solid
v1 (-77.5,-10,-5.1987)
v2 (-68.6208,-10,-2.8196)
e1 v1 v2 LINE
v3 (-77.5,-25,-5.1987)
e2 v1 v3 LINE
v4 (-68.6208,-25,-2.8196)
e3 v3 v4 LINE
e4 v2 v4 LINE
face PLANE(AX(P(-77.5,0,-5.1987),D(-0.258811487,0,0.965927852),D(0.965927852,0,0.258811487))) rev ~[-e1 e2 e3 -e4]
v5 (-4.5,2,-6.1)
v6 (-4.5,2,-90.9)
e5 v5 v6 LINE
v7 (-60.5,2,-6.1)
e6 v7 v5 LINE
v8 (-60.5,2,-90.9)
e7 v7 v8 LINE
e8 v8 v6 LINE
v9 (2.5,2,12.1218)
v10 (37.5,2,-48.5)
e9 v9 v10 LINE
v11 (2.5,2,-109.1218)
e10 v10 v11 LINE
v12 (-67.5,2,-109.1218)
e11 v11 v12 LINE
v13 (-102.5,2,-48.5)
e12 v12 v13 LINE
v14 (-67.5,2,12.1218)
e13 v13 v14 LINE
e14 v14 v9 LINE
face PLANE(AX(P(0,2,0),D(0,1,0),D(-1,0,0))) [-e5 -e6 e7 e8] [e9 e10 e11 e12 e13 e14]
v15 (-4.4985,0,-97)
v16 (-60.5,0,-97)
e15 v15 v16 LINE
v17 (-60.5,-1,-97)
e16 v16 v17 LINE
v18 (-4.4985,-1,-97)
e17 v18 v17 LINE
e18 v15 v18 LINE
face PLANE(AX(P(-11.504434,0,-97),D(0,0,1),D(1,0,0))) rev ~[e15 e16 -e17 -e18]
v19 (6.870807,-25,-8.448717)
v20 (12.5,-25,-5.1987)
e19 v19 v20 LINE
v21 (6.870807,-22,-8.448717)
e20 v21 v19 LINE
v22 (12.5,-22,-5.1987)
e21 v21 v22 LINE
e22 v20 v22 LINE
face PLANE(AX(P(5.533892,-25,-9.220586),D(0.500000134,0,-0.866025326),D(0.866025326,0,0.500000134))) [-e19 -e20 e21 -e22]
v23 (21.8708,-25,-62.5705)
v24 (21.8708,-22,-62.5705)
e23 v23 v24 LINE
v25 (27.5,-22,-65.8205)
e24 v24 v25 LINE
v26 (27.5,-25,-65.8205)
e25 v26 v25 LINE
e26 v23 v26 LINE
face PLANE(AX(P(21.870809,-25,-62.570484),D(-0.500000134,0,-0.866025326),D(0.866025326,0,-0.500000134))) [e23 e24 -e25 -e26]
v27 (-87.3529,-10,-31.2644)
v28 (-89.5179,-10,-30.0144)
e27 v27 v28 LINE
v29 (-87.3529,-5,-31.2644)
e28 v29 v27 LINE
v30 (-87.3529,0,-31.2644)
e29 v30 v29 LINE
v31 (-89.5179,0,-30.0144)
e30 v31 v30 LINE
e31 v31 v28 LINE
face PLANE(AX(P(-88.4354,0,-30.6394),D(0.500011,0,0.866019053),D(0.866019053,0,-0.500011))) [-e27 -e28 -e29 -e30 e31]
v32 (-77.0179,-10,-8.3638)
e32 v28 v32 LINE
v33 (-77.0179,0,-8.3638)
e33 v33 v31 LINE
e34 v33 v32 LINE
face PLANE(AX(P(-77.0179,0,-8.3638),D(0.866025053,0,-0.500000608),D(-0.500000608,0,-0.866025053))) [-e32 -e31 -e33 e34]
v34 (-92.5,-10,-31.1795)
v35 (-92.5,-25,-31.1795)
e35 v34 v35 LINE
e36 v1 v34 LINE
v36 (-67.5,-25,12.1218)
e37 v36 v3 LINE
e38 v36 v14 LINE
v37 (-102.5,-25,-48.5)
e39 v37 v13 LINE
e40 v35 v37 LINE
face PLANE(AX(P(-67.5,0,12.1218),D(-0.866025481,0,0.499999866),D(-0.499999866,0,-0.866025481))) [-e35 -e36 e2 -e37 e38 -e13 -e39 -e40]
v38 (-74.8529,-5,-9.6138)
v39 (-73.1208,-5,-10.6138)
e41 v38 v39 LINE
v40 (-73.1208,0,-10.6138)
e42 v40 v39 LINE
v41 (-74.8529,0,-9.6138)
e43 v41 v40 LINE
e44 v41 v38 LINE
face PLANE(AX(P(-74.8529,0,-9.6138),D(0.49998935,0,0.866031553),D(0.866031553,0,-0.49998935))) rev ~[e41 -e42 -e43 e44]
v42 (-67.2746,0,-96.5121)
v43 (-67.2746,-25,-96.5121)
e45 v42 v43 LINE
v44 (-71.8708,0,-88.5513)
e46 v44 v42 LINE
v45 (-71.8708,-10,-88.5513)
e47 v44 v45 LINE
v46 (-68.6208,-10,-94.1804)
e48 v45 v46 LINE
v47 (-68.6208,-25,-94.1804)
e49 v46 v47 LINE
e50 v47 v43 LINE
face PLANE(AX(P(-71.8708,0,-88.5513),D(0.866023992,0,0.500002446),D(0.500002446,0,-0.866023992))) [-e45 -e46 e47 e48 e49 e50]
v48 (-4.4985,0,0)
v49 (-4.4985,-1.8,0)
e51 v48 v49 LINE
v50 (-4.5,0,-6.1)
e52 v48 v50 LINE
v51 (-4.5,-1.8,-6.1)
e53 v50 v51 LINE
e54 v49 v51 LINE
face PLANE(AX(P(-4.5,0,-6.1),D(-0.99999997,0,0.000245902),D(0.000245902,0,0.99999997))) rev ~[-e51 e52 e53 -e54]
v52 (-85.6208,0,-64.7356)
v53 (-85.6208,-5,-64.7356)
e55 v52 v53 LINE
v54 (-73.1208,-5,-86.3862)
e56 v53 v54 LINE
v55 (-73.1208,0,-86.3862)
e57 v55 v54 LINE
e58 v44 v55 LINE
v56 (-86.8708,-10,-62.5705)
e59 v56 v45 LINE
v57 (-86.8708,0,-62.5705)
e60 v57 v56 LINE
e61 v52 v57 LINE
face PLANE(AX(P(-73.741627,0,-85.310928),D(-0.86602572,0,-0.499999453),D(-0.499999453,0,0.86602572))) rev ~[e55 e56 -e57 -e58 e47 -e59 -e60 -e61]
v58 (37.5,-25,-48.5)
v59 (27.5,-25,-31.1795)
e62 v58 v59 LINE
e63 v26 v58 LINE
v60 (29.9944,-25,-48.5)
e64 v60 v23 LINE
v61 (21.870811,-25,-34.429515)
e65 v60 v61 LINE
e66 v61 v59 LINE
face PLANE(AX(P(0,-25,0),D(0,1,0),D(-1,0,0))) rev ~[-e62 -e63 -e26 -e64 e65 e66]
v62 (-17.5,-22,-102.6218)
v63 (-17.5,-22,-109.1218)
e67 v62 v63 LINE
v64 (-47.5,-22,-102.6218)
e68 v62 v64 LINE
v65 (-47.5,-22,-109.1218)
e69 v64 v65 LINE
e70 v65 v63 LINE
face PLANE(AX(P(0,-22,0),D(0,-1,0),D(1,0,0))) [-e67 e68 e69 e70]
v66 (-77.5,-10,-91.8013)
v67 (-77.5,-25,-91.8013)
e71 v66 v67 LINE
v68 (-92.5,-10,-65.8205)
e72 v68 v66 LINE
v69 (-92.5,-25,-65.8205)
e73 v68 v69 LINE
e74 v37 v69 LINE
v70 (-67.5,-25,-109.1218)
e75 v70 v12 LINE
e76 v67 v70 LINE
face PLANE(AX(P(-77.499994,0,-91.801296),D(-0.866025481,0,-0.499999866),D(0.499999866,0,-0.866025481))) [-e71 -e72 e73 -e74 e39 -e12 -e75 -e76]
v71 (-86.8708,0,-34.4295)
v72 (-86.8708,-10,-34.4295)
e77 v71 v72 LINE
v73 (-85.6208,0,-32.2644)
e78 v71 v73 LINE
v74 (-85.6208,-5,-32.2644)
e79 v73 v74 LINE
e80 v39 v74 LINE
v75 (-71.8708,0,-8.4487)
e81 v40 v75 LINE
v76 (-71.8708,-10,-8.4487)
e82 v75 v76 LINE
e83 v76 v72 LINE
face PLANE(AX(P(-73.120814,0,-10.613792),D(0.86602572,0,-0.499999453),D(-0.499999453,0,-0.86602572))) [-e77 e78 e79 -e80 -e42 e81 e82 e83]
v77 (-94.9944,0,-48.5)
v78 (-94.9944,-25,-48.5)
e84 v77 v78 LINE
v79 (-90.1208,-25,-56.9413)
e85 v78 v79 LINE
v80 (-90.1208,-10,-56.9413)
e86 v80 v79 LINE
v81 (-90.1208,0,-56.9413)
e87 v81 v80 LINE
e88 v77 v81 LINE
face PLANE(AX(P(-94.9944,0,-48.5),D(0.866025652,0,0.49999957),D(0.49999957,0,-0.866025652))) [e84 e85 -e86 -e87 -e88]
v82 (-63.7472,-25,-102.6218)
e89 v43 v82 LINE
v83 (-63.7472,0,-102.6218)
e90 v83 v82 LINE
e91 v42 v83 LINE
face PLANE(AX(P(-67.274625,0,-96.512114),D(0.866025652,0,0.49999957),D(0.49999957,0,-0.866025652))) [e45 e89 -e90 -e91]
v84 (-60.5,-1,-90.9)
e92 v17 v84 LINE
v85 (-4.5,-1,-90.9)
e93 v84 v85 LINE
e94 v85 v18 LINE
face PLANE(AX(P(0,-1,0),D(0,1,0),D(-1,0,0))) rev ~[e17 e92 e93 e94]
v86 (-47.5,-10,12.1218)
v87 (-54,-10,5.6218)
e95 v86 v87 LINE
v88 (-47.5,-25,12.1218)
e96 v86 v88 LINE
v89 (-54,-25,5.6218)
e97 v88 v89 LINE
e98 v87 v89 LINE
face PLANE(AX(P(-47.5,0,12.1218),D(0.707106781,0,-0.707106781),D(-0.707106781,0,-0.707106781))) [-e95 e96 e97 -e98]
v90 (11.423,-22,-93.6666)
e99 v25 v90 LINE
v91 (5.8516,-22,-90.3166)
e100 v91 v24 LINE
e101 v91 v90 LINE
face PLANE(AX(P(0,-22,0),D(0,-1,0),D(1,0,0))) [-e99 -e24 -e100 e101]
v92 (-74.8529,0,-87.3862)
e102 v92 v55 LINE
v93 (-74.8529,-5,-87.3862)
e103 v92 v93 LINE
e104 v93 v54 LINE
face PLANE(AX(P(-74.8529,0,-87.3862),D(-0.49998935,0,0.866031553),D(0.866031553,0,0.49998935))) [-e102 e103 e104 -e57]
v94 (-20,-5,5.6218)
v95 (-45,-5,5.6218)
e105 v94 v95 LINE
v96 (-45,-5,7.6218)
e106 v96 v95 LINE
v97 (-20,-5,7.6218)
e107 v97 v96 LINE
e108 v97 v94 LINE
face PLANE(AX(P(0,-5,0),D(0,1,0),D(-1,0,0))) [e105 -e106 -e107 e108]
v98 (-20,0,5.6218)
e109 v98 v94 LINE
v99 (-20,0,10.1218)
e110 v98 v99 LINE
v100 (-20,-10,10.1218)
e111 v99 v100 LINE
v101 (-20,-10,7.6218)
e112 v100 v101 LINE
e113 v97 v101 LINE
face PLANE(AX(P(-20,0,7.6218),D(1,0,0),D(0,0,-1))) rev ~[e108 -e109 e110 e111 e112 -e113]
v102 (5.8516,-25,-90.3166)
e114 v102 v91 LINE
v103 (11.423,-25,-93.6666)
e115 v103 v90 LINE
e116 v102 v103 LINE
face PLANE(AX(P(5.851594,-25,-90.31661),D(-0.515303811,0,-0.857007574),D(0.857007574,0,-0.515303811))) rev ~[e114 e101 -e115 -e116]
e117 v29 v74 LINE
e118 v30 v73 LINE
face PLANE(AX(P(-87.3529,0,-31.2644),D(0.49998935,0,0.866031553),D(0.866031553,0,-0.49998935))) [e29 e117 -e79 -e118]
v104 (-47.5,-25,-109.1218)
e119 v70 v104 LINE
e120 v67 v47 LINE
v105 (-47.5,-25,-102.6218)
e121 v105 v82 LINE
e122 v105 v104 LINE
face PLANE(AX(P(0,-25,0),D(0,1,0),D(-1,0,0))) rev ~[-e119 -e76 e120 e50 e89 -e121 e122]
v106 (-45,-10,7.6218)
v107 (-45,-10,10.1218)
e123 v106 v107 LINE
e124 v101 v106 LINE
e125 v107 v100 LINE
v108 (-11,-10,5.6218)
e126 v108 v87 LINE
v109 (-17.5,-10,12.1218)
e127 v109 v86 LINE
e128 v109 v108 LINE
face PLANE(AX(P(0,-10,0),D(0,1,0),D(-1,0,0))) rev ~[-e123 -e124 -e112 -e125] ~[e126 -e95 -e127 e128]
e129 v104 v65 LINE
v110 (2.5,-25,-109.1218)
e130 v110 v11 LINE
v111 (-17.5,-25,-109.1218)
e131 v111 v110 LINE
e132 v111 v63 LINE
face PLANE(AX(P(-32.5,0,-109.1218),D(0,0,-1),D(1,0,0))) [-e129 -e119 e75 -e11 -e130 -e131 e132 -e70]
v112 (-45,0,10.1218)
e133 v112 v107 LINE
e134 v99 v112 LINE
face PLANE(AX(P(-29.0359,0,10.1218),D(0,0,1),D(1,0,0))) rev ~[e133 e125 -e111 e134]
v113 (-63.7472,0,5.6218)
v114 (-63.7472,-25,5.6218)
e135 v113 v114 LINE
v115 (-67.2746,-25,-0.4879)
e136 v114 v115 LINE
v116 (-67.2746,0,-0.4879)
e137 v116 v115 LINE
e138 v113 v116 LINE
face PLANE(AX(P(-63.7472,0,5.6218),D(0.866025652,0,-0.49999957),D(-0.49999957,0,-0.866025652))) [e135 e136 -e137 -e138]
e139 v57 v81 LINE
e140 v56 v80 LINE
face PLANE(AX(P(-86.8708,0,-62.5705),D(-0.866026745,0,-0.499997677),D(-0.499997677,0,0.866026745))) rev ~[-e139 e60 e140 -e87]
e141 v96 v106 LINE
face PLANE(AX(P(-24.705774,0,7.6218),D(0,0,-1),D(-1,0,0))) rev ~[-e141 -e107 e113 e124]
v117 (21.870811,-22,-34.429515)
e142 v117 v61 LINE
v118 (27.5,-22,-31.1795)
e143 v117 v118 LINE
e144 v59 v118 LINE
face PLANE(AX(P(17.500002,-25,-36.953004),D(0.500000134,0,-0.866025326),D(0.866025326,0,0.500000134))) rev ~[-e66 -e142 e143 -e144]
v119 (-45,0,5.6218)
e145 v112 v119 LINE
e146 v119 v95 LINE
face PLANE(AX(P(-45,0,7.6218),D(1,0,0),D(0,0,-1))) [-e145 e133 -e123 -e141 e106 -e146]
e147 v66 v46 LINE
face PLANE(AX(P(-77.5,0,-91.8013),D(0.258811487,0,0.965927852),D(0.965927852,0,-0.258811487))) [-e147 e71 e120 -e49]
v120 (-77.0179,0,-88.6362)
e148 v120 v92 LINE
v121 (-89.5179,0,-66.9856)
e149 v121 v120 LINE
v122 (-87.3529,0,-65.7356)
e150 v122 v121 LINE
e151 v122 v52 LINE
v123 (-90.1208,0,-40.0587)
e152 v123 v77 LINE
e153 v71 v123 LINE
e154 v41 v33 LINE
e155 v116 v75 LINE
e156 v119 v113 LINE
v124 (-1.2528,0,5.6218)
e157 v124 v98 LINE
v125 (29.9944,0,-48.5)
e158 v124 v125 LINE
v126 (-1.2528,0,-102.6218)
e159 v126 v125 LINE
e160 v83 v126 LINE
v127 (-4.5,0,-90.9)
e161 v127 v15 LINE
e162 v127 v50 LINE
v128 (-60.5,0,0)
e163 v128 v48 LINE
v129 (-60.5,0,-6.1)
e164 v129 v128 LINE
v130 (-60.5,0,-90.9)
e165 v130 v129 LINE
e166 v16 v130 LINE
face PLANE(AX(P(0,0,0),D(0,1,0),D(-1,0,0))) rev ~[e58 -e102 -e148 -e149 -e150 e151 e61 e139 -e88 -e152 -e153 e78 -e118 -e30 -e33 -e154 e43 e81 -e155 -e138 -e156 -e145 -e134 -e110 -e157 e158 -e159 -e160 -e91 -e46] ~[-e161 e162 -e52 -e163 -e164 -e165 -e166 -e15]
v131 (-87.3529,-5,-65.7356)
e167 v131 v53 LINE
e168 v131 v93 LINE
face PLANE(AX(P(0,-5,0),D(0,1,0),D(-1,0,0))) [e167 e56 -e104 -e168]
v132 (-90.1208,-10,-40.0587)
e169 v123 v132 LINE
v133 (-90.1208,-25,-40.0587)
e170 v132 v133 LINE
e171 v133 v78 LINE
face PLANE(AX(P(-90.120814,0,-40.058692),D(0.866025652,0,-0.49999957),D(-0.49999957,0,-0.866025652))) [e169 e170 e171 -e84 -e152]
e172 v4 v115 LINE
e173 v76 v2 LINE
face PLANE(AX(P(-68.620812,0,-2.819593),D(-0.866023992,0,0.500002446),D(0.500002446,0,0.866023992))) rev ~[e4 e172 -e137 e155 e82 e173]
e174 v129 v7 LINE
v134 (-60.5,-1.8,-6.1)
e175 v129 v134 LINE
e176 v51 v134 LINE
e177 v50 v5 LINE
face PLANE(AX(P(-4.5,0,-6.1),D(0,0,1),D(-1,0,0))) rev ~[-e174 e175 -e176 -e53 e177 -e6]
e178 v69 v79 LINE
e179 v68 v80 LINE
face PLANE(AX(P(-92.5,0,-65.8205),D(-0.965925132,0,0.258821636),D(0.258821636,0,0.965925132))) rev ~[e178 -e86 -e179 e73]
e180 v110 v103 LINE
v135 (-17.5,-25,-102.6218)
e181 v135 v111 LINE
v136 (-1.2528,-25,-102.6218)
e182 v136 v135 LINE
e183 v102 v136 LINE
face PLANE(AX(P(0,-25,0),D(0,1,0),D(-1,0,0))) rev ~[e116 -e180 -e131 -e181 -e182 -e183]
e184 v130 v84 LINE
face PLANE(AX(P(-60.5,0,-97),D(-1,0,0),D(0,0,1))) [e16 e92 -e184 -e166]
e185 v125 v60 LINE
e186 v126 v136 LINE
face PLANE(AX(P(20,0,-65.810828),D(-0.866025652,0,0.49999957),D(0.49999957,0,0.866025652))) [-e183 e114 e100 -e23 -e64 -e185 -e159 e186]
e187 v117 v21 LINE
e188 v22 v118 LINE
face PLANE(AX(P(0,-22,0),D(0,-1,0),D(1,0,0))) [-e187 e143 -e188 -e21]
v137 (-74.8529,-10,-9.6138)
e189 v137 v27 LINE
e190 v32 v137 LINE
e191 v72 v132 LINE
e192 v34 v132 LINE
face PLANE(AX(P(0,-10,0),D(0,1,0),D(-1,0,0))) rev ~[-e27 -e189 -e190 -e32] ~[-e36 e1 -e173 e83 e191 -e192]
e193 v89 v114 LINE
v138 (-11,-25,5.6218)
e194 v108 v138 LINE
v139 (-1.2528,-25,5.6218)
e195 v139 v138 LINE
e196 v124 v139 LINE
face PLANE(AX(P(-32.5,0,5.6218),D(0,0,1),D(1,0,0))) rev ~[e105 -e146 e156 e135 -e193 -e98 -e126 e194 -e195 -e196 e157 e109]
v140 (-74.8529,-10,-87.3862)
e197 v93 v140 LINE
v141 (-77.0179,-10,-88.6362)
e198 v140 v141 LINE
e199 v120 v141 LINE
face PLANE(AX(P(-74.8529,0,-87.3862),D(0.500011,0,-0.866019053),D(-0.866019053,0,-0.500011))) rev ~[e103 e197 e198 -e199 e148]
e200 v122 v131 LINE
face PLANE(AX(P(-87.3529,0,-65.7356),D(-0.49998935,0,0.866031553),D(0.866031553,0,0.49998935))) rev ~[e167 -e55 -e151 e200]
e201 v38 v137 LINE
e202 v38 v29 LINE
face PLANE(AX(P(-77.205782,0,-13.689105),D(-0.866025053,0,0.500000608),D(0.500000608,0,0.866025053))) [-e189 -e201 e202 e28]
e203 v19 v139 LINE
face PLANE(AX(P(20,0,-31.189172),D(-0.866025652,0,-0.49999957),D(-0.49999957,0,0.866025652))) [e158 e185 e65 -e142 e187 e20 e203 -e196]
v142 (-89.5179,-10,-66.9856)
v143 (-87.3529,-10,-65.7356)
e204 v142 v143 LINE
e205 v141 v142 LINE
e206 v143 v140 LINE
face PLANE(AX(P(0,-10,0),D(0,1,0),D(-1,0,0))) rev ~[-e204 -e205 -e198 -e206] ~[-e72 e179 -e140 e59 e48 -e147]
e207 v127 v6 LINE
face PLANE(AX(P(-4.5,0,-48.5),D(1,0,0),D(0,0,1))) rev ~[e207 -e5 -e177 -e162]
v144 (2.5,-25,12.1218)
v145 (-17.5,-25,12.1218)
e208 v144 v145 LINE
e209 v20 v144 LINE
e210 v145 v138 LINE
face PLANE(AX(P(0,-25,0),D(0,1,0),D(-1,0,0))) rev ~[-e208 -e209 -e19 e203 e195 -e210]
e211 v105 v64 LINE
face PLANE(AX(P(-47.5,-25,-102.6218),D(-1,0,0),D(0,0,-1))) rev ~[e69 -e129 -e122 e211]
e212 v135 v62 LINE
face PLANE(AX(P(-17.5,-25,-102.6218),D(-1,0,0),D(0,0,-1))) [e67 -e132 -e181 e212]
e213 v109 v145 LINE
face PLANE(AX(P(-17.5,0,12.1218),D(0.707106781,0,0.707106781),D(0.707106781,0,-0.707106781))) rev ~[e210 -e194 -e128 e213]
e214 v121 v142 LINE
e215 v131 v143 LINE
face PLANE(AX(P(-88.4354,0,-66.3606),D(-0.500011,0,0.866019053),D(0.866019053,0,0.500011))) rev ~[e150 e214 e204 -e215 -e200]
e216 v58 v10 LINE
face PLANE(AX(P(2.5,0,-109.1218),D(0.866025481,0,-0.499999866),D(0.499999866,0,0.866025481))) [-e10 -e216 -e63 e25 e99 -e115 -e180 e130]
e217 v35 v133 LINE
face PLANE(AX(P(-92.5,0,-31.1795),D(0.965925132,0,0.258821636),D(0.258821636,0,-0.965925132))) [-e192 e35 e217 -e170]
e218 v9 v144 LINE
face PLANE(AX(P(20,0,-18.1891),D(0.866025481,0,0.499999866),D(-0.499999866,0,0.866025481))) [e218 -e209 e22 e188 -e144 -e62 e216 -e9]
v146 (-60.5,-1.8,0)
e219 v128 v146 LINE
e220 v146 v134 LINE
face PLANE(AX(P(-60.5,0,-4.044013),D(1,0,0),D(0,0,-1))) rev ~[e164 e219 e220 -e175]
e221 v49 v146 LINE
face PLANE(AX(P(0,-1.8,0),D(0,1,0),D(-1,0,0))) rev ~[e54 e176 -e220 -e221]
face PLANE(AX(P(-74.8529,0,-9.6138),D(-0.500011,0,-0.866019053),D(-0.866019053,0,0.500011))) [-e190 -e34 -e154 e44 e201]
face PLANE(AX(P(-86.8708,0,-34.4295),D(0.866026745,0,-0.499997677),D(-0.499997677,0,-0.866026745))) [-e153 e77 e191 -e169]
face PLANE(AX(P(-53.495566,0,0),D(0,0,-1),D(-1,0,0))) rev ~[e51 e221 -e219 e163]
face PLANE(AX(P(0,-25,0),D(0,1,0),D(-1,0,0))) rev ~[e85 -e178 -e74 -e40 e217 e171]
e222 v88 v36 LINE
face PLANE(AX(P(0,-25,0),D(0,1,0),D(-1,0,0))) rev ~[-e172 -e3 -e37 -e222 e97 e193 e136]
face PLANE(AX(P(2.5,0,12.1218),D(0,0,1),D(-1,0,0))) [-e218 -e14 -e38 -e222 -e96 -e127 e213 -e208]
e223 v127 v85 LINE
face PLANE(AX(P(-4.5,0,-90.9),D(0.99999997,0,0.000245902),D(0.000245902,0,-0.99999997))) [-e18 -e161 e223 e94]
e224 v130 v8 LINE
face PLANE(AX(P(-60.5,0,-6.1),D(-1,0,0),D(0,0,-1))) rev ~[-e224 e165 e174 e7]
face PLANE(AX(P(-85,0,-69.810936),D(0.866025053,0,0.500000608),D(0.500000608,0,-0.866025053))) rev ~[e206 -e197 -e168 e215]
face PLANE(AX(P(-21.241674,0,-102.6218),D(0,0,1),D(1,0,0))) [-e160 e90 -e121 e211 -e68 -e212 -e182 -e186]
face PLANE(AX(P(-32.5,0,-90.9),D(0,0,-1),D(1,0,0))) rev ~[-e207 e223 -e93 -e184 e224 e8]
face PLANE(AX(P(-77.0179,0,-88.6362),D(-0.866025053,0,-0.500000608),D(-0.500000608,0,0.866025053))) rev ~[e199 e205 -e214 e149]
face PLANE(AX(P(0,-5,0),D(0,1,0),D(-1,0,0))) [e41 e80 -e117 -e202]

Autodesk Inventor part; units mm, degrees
ref_plane "YZ Plane" through (0, 0, 0) normal (1, 0, 0) x (0, 1, 0)
ref_plane "XZ Plane" through (0, 0, 0) normal (0, 1, 0) x (-1, 0, 0)
ref_plane "XY Plane" through (0, 0, 0) normal (0, 0, 1) x (1, 0, 0)
sketch "Sketch6" plane through (0, 0, 0) normal (0, 1, 0) x (-1, 0, 0)
  line L0 (4.5, -6.1) -> (60.5, -6.1)
  line L1 (60.5, -6.1) -> (60.5, -90.9)
  line L2 (4.5, -90.9) -> (4.5, -6.1)
  line L3 (65.1201, -97) -> (0, -97)
  line L4 (0, -97) -> (0, 0)
  line L5 (0, 0) -> (65.1201, 0)
  line L6 (65.1201, 0) -> (65.1201, -97)
  line L7 (60.5, -90.9) -> (4.5, -90.9)
  line L8 (102.5, -48.5) -> (-37.5, -48.5)
  line L9 (32.5, -118.5) -> (32.5, 21.5)
  circle A0 centre (32.5, -48.5) radius 70
  line L10 (102.5, -48.5) -> (67.5, -109.1218)
  line L11 (67.5, -109.1218) -> (-2.5, -109.1218)
  line L12 (-2.5, -109.1218) -> (-37.5, -48.5)
  line L13 (-37.5, -48.5) -> (-2.5, 12.1218)
  line L14 (-2.5, 12.1218) -> (67.5, 12.1218)
  line L15 (67.5, 12.1218) -> (102.5, -48.5)
  line L16 (32.5, 12.1218) -> (85, -18.1891)
  line L17 (85, -18.1891) -> (85, -78.8109)
  line L18 (85, -78.8109) -> (32.5, -109.1218)
  line L19 (32.5, -109.1218) -> (-20, -78.8109)
  line L20 (-20, -78.8109) -> (-20, -18.1891)
  line L21 (-20, -18.1891) -> (32.5, 12.1218)
  line L22 (32.5, 12.1218) -> (47.5, 12.1218)
  line L23 (47.5, 12.1218) -> (47.5, 5.6218)
  line L24 (47.5, 5.6218) -> (17.5, 5.6218)
  line L25 (17.5, 5.6218) -> (17.5, 12.1218)
  line L26 (47.5, 5.6218) -> (56.6924, 5.6218) construction
  line L27 (17.5, 8.8718) -> (20, 8.8718)
  line L28 (47.5, 8.8718) -> (45, 8.8718)
  line L29 (45, 8.8718) -> (45, 10.1218)
  line L30 (45, 10.1218) -> (20, 10.1218)
  line L31 (20, 10.1218) -> (20, 7.6218)
  line L32 (20, 7.6218) -> (45, 7.6218)
  line L33 (45, 7.6218) -> (45, 10.1218)
  line L34 (67.5, 12.1218) -> (32.5, -48.5)
  line L35 (32.5, -48.5) -> (67.5, -109.1218)
  line L36 (47.5, 5.6218) -> (56.6924, 5.6218)
  line L37 (17.5, 5.6218) -> (11, 5.6218)
  line L38 (17.5, 12.1218) -> (11, 5.6218)
  line L39 (17.5, 12.1218) -> (26.6924, 12.1218) construction
  line L40 (47.5, 12.1218) -> (54, 5.6218)
  line L41 (85, -18.1891) -> (77.5, -5.1987)
  line L42 (77.5, -5.1987) -> (71.8708, -8.4487)
  line L43 (71.8708, -8.4487) -> (86.8708, -34.4295)
  line L44 (86.8708, -34.4295) -> (92.5, -31.1795)
  line L45 (71.8708, -8.4487) -> (67.2746, -0.4879) construction
  line L46 (89.6854, -32.8045) -> (88.4354, -30.6394)
  line L47 (74.6854, -6.8237) -> (75.9354, -8.9888)
  line L48 (75.9354, -8.9888) -> (77.0179, -8.3638)
  line L49 (77.0179, -8.3638) -> (89.5179, -30.0144)
  line L50 (89.5179, -30.0144) -> (87.3529, -31.2644)
  line L51 (87.3529, -31.2644) -> (74.8529, -9.6138)
  line L52 (74.8529, -9.6138) -> (77.0179, -8.3638)
  line L53 (71.8708, -8.4487) -> (67.2746, -0.4879)
  line L54 (86.8708, -34.4295) -> (90.1208, -40.0587)
  line L55 (92.5, -31.1795) -> (90.1208, -40.0587)
  line L56 (92.5, -31.1795) -> (87.9038, -23.2187) construction
  line L57 (77.5, -5.1987) -> (68.6208, -2.8196)
  line L58 (71.8708, -88.5513) -> (67.2746, -96.5121) construction
  line L59 (74.6854, -90.1763) -> (75.9354, -88.0112)
  line L60 (74.8529, -87.3862) -> (77.0179, -88.6362)
  line L61 (77.5, -91.8013) -> (71.8708, -88.5513)
  line L62 (77.5, -91.8013) -> (68.6208, -94.1804)
  line L63 (71.8708, -88.5513) -> (67.2746, -96.5121)
  line L64 (77.0179, -88.6362) -> (89.5179, -66.9856)
  line L65 (87.3529, -65.7356) -> (74.8529, -87.3862)
  line L66 (71.8708, -88.5513) -> (86.8708, -62.5705)
  line L67 (89.5179, -66.9856) -> (87.3529, -65.7356)
  line L68 (89.6854, -64.1955) -> (88.4354, -66.3606)
  line L69 (86.8708, -62.5705) -> (92.5, -65.8205)
  line L70 (86.8708, -62.5705) -> (90.1208, -56.9413)
  line L71 (92.5, -65.8205) -> (90.1208, -56.9413)
  line L72 (94.9944, -48.5) -> (63.7472, -102.6218)
  line L73 (63.7472, -102.6218) -> (1.2528, -102.6218)
  line L74 (1.2528, -102.6218) -> (-29.9944, -48.5)
  line L75 (-29.9944, -48.5) -> (1.2528, 5.6218)
  line L76 (1.2528, 5.6218) -> (63.7472, 5.6218)
  line L77 (63.7472, 5.6218) -> (94.9944, -48.5)
  line L78 (74.8529, -87.3862) -> (73.1208, -86.3862)
  line L79 (87.3529, -65.7356) -> (85.6208, -64.7356)
  line L80 (87.3529, -31.2644) -> (85.6208, -32.2644)
  line L81 (74.8529, -9.6138) -> (73.1208, -10.6138)
  line L82 (45, 7.6218) -> (45, 5.6218)
  line L83 (20, 7.6218) -> (20, 5.6218)
  line L84 (60.5, -90.9) -> (4.4985, -90.9)
  line L85 (4.4985, -90.9) -> (4.4985, -97)
  line L86 (4.4985, -97) -> (60.5, -97)
  line L87 (60.5, -97) -> (60.5, -90.9)
  line L88 (60.5, -6.1) -> (4.4985, -6.1)
  line L89 (4.4985, -6.1) -> (4.4985, 0)
  line L90 (4.4985, 0) -> (60.5, 0)
  line L91 (60.5, 0) -> (60.5, -6.1)
  dimension "d44" = 97
  dimension "d77" = 140
  dimension "d87" = 15
  dimension "d88" = 6.5
  dimension "d89" = 30
  dimension "d91" = 2.5
  dimension "d92" = 2.5
  dimension "d95" = 1.25
  dimension "d96" = 25
  dimension "d97" = 2.5
  dimension "d98" = 25
  dimension "d99" = 135
  dimension "d100" = 0
extrude "Fronte" add sketch "Sketch6" along normal blind 2 contours L89 L21 L5 L9 L0 | L2 L8 L4 L21 L89 | L9 L5 L16 L34 L0 | L2 L85 L19 L4 L8 | L89 L5 L21 | L21 L4 L5 L89 | L34 L16 L91 L0 | L9 L24 L16 L5 | L5 L21 L24 L9 | L7 L9 L3 L19 L85 | L8 L20 L75 L21 L4 | L4 L19 L74 L20 L8 | L21 L75 L76 L37 L24 L5 L4 | L91 L16 L6 L8 L1 | L34 L91 L16 | L16 L5 L34 | L8 L6 L18 L87 L1 | L7 L35 L18 L3 L9 | L7 L87 L18 L35 | L16 L24 L36 L76 L34 L5 | L24 L21 L32 L9 | L9 L32 L16 L24 | L85 L3 L4 L19 | L19 L3 L85 | L4 L3 L19 L73 L74 | L20 L74 L8 | L8 L75 L20 | L75 L20 L21 | L21 L13 L14 L38 L76 L75 | L24 L83 L32 L21 | L91 L5 L6 L16 | L34 L77 L53 L43 L16 L6 L5 | L8 L17 L66 L18 L6 | L6 L16 L43 L17 L8 | L9 L73 L19 L3 | L3 L18 L73 L9 | L35 L3 L18 | L18 L87 L35 | L16 L32 L82 L24 | L32 L21 L30 L9 | L9 L30 L16 L32 | L74 L73 L19 L11 L12 | L19 L20 L74 | L74 L20 L12 L8 | L8 L13 L20 L75 | L32 L31 L30 L21 | L24 L25 L27 L31 L83 | L76 L36 L40 L14 L34 | L34 L15 L57 L53 L77 | L18 L6 L3 L87 | L18 L66 L63 L72 L35 L3 L6 | L17 L43 L54 L77 L8 | L8 L72 L70 L66 L17 | L3 L35 L73 L18 | L73 L18 L9 | L9 L19 L73 | L16 L30 L29 L33 L32 | L82 L33 L28 L23 L24 | L30 L21 L9 | L9 L16 L30 | L38 L25 L37 | L30 L31 L27 L25 L14 L21 | L43 L81 L51 L16 | L16 L51 L17 L43 | L66 L17 L65 L18 | L18 L65 L78 L66 | L77 L55 L15 L8 | L8 L10 L71 L72 | L17 L51 L80 L43 | L66 L79 L65 L17 | L73 L35 L11 L18 | L72 L63 L62 L10 L35 | L16 L14 L23 L28 L29 L30 | L23 L40 L36 | L51 L52 L48 L49 L16 | L16 L49 L17 L51 | L43 L42 L47 L52 L81 | L15 L16 L49 L48 L47 L42 | L42 L53 L57 | L65 L17 L64 L18 | L18 L64 L60 L65 | L78 L60 L59 L61 L66 | L71 L69 L70 | L54 L44 L55 | L17 L49 L50 L51 | L80 L50 L46 L44 L43 | L65 L67 L64 L17 | L66 L69 L68 L67 L79 | L16 L17 L49 | L10 L17 L64 L67 L68 L69 | L44 L46 L50 L49 L17 L15 | L64 L17 L18 | L18 L10 L61 L59 L60 L64 | L61 L62 L63
extrude "Esterno" add sketch "Sketch6" against normal blind 25 contours L75 L20 L21 | L21 L13 L14 L38 L76 L75 | L74 L73 L19 L11 L12 | L19 L20 L74 | L74 L20 L12 L8 | L8 L13 L20 L75 | L76 L36 L40 L14 L34 | L34 L15 L57 L53 L77 | L73 L18 L9 | L9 L19 L73 | L77 L55 L15 L8 | L8 L10 L71 L72 | L73 L35 L11 L18 | L72 L63 L62 L10 L35
extrude "Strip" add sketch "Sketch6" against normal blind 10 contours L24 L21 L32 L9 | L9 L32 L16 L24 | L24 L83 L32 L21 | L16 L32 L82 L24 | L24 L25 L27 L31 L83 | L82 L33 L28 L23 L24 | L30 L21 L9 | L9 L16 L30 | L38 L25 L37 | L30 L31 L27 L25 L14 L21 | L43 L81 L51 L16 | L16 L51 L17 L43 | L66 L17 L65 L18 | L18 L65 L78 L66 | L17 L51 L80 L43 | L66 L79 L65 L17 | L16 L14 L23 L28 L29 L30 | L23 L40 L36 | L43 L42 L47 L52 L81 | L15 L16 L49 L48 L47 L42 | L42 L53 L57 | L78 L60 L59 L61 L66 | L71 L69 L70 | L54 L44 L55 | L80 L50 L46 L44 L43 | L66 L69 L68 L67 L79 | L16 L17 L49 | L10 L17 L64 L67 L68 L69 | L44 L46 L50 L49 L17 L15 | L64 L17 L18 | L18 L10 L61 L59 L60 L64 | L61 L62 L63
sketch "Sketch7" plane through (0, -25, 0) normal (0, -1, 0) x (1, 0, 0)
  line L0 (-17.5, 12.1218) -> (-17.5, -109.1218)
  line L1 (-67.5, -109.1218) -> (2.5, -109.1218) projected
  line L2 (-47.5, 12.1218) -> (-67.5, 12.1218) projected
  line L3 (-47.5, 12.1218) -> (-47.5, -109.1218)
  line L4 (-77.5, -91.8013) -> (-67.5, -109.1218) projected
  line L5 (-77.5, -91.8013) -> (27.5, -31.1795)
  line L6 (2.5, 12.1218) -> (37.5, -48.5) projected
  line L7 (-92.5, -65.8205) -> (-90.1208, -56.9413) projected
  line L8 (-92.5, -65.8205) -> (12.5, -5.1987)
  line L9 (-77.5, -5.1987) -> (27.5, -65.8205)
  line L10 (37.5, -48.5) -> (2.5, -109.1218) projected
  line L11 (-92.5, -31.1795) -> (11.423, -93.6666)
  line L12 (27.5, -31.1795) -> (12.5, -5.1987)
  line L13 (27.5, -65.8205) -> (11.423, -93.6666)
  line L14 (-1.2528, -102.6218) -> (29.9944, -48.5) projected
  line L15 (5.8516, -90.3166) -> (21.8708, -62.5705)
  line L16 (-47.5, -109.1218) -> (-17.5, -109.1218)
  line L17 (-17.5, -109.1218) -> (-17.5, -102.6218)
  line L18 (-17.5, -102.6218) -> (-47.5, -102.6218)
  line L19 (-47.5, -102.6218) -> (-47.5, -109.1218)
  line L20 (5.5339, -9.2206) -> (17.5, -36.953)
  point P0 (0, 0)
  point P1 (6.9325, -8.4131)
  point P2 (21.9325, -34.3939)
extrude "Passacavi" cut sketch "Sketch7" against normal blind 3 contours L0 L1 L3 L18 | L14 L9 L10 L11 | L20 L8 L6 L5
extrude "ScavoStrip" cut sketch "Sketch6" against normal blind 5 contours L24 L21 L32 L9 | L9 L32 L16 L24 | L24 L83 L32 L21 | L16 L32 L82 L24 | L43 L81 L51 L16 | L16 L51 L17 L43 | L66 L17 L65 L18 | L18 L65 L78 L66 | L17 L51 L80 L43 | L66 L79 L65 L17
extrude "ScreenDis1" add sketch "Sketch6" against normal blind 1 contours L7 L9 L3 L19 L85 | L7 L35 L18 L3 L9 | L7 L87 L18 L35 | L19 L3 L85 | L35 L3 L18 | L18 L87 L35
extrude "ScreenDist1.8" add sketch "Sketch6" against normal blind 1.8 contours L89 L21 L5 L9 L0 | L9 L5 L16 L34 L0 | L89 L5 L21 | L34 L16 L91 L0 | L34 L91 L16 | L16 L5 L34
properties part number "Hexagone" material "Wood (Cherry)"
